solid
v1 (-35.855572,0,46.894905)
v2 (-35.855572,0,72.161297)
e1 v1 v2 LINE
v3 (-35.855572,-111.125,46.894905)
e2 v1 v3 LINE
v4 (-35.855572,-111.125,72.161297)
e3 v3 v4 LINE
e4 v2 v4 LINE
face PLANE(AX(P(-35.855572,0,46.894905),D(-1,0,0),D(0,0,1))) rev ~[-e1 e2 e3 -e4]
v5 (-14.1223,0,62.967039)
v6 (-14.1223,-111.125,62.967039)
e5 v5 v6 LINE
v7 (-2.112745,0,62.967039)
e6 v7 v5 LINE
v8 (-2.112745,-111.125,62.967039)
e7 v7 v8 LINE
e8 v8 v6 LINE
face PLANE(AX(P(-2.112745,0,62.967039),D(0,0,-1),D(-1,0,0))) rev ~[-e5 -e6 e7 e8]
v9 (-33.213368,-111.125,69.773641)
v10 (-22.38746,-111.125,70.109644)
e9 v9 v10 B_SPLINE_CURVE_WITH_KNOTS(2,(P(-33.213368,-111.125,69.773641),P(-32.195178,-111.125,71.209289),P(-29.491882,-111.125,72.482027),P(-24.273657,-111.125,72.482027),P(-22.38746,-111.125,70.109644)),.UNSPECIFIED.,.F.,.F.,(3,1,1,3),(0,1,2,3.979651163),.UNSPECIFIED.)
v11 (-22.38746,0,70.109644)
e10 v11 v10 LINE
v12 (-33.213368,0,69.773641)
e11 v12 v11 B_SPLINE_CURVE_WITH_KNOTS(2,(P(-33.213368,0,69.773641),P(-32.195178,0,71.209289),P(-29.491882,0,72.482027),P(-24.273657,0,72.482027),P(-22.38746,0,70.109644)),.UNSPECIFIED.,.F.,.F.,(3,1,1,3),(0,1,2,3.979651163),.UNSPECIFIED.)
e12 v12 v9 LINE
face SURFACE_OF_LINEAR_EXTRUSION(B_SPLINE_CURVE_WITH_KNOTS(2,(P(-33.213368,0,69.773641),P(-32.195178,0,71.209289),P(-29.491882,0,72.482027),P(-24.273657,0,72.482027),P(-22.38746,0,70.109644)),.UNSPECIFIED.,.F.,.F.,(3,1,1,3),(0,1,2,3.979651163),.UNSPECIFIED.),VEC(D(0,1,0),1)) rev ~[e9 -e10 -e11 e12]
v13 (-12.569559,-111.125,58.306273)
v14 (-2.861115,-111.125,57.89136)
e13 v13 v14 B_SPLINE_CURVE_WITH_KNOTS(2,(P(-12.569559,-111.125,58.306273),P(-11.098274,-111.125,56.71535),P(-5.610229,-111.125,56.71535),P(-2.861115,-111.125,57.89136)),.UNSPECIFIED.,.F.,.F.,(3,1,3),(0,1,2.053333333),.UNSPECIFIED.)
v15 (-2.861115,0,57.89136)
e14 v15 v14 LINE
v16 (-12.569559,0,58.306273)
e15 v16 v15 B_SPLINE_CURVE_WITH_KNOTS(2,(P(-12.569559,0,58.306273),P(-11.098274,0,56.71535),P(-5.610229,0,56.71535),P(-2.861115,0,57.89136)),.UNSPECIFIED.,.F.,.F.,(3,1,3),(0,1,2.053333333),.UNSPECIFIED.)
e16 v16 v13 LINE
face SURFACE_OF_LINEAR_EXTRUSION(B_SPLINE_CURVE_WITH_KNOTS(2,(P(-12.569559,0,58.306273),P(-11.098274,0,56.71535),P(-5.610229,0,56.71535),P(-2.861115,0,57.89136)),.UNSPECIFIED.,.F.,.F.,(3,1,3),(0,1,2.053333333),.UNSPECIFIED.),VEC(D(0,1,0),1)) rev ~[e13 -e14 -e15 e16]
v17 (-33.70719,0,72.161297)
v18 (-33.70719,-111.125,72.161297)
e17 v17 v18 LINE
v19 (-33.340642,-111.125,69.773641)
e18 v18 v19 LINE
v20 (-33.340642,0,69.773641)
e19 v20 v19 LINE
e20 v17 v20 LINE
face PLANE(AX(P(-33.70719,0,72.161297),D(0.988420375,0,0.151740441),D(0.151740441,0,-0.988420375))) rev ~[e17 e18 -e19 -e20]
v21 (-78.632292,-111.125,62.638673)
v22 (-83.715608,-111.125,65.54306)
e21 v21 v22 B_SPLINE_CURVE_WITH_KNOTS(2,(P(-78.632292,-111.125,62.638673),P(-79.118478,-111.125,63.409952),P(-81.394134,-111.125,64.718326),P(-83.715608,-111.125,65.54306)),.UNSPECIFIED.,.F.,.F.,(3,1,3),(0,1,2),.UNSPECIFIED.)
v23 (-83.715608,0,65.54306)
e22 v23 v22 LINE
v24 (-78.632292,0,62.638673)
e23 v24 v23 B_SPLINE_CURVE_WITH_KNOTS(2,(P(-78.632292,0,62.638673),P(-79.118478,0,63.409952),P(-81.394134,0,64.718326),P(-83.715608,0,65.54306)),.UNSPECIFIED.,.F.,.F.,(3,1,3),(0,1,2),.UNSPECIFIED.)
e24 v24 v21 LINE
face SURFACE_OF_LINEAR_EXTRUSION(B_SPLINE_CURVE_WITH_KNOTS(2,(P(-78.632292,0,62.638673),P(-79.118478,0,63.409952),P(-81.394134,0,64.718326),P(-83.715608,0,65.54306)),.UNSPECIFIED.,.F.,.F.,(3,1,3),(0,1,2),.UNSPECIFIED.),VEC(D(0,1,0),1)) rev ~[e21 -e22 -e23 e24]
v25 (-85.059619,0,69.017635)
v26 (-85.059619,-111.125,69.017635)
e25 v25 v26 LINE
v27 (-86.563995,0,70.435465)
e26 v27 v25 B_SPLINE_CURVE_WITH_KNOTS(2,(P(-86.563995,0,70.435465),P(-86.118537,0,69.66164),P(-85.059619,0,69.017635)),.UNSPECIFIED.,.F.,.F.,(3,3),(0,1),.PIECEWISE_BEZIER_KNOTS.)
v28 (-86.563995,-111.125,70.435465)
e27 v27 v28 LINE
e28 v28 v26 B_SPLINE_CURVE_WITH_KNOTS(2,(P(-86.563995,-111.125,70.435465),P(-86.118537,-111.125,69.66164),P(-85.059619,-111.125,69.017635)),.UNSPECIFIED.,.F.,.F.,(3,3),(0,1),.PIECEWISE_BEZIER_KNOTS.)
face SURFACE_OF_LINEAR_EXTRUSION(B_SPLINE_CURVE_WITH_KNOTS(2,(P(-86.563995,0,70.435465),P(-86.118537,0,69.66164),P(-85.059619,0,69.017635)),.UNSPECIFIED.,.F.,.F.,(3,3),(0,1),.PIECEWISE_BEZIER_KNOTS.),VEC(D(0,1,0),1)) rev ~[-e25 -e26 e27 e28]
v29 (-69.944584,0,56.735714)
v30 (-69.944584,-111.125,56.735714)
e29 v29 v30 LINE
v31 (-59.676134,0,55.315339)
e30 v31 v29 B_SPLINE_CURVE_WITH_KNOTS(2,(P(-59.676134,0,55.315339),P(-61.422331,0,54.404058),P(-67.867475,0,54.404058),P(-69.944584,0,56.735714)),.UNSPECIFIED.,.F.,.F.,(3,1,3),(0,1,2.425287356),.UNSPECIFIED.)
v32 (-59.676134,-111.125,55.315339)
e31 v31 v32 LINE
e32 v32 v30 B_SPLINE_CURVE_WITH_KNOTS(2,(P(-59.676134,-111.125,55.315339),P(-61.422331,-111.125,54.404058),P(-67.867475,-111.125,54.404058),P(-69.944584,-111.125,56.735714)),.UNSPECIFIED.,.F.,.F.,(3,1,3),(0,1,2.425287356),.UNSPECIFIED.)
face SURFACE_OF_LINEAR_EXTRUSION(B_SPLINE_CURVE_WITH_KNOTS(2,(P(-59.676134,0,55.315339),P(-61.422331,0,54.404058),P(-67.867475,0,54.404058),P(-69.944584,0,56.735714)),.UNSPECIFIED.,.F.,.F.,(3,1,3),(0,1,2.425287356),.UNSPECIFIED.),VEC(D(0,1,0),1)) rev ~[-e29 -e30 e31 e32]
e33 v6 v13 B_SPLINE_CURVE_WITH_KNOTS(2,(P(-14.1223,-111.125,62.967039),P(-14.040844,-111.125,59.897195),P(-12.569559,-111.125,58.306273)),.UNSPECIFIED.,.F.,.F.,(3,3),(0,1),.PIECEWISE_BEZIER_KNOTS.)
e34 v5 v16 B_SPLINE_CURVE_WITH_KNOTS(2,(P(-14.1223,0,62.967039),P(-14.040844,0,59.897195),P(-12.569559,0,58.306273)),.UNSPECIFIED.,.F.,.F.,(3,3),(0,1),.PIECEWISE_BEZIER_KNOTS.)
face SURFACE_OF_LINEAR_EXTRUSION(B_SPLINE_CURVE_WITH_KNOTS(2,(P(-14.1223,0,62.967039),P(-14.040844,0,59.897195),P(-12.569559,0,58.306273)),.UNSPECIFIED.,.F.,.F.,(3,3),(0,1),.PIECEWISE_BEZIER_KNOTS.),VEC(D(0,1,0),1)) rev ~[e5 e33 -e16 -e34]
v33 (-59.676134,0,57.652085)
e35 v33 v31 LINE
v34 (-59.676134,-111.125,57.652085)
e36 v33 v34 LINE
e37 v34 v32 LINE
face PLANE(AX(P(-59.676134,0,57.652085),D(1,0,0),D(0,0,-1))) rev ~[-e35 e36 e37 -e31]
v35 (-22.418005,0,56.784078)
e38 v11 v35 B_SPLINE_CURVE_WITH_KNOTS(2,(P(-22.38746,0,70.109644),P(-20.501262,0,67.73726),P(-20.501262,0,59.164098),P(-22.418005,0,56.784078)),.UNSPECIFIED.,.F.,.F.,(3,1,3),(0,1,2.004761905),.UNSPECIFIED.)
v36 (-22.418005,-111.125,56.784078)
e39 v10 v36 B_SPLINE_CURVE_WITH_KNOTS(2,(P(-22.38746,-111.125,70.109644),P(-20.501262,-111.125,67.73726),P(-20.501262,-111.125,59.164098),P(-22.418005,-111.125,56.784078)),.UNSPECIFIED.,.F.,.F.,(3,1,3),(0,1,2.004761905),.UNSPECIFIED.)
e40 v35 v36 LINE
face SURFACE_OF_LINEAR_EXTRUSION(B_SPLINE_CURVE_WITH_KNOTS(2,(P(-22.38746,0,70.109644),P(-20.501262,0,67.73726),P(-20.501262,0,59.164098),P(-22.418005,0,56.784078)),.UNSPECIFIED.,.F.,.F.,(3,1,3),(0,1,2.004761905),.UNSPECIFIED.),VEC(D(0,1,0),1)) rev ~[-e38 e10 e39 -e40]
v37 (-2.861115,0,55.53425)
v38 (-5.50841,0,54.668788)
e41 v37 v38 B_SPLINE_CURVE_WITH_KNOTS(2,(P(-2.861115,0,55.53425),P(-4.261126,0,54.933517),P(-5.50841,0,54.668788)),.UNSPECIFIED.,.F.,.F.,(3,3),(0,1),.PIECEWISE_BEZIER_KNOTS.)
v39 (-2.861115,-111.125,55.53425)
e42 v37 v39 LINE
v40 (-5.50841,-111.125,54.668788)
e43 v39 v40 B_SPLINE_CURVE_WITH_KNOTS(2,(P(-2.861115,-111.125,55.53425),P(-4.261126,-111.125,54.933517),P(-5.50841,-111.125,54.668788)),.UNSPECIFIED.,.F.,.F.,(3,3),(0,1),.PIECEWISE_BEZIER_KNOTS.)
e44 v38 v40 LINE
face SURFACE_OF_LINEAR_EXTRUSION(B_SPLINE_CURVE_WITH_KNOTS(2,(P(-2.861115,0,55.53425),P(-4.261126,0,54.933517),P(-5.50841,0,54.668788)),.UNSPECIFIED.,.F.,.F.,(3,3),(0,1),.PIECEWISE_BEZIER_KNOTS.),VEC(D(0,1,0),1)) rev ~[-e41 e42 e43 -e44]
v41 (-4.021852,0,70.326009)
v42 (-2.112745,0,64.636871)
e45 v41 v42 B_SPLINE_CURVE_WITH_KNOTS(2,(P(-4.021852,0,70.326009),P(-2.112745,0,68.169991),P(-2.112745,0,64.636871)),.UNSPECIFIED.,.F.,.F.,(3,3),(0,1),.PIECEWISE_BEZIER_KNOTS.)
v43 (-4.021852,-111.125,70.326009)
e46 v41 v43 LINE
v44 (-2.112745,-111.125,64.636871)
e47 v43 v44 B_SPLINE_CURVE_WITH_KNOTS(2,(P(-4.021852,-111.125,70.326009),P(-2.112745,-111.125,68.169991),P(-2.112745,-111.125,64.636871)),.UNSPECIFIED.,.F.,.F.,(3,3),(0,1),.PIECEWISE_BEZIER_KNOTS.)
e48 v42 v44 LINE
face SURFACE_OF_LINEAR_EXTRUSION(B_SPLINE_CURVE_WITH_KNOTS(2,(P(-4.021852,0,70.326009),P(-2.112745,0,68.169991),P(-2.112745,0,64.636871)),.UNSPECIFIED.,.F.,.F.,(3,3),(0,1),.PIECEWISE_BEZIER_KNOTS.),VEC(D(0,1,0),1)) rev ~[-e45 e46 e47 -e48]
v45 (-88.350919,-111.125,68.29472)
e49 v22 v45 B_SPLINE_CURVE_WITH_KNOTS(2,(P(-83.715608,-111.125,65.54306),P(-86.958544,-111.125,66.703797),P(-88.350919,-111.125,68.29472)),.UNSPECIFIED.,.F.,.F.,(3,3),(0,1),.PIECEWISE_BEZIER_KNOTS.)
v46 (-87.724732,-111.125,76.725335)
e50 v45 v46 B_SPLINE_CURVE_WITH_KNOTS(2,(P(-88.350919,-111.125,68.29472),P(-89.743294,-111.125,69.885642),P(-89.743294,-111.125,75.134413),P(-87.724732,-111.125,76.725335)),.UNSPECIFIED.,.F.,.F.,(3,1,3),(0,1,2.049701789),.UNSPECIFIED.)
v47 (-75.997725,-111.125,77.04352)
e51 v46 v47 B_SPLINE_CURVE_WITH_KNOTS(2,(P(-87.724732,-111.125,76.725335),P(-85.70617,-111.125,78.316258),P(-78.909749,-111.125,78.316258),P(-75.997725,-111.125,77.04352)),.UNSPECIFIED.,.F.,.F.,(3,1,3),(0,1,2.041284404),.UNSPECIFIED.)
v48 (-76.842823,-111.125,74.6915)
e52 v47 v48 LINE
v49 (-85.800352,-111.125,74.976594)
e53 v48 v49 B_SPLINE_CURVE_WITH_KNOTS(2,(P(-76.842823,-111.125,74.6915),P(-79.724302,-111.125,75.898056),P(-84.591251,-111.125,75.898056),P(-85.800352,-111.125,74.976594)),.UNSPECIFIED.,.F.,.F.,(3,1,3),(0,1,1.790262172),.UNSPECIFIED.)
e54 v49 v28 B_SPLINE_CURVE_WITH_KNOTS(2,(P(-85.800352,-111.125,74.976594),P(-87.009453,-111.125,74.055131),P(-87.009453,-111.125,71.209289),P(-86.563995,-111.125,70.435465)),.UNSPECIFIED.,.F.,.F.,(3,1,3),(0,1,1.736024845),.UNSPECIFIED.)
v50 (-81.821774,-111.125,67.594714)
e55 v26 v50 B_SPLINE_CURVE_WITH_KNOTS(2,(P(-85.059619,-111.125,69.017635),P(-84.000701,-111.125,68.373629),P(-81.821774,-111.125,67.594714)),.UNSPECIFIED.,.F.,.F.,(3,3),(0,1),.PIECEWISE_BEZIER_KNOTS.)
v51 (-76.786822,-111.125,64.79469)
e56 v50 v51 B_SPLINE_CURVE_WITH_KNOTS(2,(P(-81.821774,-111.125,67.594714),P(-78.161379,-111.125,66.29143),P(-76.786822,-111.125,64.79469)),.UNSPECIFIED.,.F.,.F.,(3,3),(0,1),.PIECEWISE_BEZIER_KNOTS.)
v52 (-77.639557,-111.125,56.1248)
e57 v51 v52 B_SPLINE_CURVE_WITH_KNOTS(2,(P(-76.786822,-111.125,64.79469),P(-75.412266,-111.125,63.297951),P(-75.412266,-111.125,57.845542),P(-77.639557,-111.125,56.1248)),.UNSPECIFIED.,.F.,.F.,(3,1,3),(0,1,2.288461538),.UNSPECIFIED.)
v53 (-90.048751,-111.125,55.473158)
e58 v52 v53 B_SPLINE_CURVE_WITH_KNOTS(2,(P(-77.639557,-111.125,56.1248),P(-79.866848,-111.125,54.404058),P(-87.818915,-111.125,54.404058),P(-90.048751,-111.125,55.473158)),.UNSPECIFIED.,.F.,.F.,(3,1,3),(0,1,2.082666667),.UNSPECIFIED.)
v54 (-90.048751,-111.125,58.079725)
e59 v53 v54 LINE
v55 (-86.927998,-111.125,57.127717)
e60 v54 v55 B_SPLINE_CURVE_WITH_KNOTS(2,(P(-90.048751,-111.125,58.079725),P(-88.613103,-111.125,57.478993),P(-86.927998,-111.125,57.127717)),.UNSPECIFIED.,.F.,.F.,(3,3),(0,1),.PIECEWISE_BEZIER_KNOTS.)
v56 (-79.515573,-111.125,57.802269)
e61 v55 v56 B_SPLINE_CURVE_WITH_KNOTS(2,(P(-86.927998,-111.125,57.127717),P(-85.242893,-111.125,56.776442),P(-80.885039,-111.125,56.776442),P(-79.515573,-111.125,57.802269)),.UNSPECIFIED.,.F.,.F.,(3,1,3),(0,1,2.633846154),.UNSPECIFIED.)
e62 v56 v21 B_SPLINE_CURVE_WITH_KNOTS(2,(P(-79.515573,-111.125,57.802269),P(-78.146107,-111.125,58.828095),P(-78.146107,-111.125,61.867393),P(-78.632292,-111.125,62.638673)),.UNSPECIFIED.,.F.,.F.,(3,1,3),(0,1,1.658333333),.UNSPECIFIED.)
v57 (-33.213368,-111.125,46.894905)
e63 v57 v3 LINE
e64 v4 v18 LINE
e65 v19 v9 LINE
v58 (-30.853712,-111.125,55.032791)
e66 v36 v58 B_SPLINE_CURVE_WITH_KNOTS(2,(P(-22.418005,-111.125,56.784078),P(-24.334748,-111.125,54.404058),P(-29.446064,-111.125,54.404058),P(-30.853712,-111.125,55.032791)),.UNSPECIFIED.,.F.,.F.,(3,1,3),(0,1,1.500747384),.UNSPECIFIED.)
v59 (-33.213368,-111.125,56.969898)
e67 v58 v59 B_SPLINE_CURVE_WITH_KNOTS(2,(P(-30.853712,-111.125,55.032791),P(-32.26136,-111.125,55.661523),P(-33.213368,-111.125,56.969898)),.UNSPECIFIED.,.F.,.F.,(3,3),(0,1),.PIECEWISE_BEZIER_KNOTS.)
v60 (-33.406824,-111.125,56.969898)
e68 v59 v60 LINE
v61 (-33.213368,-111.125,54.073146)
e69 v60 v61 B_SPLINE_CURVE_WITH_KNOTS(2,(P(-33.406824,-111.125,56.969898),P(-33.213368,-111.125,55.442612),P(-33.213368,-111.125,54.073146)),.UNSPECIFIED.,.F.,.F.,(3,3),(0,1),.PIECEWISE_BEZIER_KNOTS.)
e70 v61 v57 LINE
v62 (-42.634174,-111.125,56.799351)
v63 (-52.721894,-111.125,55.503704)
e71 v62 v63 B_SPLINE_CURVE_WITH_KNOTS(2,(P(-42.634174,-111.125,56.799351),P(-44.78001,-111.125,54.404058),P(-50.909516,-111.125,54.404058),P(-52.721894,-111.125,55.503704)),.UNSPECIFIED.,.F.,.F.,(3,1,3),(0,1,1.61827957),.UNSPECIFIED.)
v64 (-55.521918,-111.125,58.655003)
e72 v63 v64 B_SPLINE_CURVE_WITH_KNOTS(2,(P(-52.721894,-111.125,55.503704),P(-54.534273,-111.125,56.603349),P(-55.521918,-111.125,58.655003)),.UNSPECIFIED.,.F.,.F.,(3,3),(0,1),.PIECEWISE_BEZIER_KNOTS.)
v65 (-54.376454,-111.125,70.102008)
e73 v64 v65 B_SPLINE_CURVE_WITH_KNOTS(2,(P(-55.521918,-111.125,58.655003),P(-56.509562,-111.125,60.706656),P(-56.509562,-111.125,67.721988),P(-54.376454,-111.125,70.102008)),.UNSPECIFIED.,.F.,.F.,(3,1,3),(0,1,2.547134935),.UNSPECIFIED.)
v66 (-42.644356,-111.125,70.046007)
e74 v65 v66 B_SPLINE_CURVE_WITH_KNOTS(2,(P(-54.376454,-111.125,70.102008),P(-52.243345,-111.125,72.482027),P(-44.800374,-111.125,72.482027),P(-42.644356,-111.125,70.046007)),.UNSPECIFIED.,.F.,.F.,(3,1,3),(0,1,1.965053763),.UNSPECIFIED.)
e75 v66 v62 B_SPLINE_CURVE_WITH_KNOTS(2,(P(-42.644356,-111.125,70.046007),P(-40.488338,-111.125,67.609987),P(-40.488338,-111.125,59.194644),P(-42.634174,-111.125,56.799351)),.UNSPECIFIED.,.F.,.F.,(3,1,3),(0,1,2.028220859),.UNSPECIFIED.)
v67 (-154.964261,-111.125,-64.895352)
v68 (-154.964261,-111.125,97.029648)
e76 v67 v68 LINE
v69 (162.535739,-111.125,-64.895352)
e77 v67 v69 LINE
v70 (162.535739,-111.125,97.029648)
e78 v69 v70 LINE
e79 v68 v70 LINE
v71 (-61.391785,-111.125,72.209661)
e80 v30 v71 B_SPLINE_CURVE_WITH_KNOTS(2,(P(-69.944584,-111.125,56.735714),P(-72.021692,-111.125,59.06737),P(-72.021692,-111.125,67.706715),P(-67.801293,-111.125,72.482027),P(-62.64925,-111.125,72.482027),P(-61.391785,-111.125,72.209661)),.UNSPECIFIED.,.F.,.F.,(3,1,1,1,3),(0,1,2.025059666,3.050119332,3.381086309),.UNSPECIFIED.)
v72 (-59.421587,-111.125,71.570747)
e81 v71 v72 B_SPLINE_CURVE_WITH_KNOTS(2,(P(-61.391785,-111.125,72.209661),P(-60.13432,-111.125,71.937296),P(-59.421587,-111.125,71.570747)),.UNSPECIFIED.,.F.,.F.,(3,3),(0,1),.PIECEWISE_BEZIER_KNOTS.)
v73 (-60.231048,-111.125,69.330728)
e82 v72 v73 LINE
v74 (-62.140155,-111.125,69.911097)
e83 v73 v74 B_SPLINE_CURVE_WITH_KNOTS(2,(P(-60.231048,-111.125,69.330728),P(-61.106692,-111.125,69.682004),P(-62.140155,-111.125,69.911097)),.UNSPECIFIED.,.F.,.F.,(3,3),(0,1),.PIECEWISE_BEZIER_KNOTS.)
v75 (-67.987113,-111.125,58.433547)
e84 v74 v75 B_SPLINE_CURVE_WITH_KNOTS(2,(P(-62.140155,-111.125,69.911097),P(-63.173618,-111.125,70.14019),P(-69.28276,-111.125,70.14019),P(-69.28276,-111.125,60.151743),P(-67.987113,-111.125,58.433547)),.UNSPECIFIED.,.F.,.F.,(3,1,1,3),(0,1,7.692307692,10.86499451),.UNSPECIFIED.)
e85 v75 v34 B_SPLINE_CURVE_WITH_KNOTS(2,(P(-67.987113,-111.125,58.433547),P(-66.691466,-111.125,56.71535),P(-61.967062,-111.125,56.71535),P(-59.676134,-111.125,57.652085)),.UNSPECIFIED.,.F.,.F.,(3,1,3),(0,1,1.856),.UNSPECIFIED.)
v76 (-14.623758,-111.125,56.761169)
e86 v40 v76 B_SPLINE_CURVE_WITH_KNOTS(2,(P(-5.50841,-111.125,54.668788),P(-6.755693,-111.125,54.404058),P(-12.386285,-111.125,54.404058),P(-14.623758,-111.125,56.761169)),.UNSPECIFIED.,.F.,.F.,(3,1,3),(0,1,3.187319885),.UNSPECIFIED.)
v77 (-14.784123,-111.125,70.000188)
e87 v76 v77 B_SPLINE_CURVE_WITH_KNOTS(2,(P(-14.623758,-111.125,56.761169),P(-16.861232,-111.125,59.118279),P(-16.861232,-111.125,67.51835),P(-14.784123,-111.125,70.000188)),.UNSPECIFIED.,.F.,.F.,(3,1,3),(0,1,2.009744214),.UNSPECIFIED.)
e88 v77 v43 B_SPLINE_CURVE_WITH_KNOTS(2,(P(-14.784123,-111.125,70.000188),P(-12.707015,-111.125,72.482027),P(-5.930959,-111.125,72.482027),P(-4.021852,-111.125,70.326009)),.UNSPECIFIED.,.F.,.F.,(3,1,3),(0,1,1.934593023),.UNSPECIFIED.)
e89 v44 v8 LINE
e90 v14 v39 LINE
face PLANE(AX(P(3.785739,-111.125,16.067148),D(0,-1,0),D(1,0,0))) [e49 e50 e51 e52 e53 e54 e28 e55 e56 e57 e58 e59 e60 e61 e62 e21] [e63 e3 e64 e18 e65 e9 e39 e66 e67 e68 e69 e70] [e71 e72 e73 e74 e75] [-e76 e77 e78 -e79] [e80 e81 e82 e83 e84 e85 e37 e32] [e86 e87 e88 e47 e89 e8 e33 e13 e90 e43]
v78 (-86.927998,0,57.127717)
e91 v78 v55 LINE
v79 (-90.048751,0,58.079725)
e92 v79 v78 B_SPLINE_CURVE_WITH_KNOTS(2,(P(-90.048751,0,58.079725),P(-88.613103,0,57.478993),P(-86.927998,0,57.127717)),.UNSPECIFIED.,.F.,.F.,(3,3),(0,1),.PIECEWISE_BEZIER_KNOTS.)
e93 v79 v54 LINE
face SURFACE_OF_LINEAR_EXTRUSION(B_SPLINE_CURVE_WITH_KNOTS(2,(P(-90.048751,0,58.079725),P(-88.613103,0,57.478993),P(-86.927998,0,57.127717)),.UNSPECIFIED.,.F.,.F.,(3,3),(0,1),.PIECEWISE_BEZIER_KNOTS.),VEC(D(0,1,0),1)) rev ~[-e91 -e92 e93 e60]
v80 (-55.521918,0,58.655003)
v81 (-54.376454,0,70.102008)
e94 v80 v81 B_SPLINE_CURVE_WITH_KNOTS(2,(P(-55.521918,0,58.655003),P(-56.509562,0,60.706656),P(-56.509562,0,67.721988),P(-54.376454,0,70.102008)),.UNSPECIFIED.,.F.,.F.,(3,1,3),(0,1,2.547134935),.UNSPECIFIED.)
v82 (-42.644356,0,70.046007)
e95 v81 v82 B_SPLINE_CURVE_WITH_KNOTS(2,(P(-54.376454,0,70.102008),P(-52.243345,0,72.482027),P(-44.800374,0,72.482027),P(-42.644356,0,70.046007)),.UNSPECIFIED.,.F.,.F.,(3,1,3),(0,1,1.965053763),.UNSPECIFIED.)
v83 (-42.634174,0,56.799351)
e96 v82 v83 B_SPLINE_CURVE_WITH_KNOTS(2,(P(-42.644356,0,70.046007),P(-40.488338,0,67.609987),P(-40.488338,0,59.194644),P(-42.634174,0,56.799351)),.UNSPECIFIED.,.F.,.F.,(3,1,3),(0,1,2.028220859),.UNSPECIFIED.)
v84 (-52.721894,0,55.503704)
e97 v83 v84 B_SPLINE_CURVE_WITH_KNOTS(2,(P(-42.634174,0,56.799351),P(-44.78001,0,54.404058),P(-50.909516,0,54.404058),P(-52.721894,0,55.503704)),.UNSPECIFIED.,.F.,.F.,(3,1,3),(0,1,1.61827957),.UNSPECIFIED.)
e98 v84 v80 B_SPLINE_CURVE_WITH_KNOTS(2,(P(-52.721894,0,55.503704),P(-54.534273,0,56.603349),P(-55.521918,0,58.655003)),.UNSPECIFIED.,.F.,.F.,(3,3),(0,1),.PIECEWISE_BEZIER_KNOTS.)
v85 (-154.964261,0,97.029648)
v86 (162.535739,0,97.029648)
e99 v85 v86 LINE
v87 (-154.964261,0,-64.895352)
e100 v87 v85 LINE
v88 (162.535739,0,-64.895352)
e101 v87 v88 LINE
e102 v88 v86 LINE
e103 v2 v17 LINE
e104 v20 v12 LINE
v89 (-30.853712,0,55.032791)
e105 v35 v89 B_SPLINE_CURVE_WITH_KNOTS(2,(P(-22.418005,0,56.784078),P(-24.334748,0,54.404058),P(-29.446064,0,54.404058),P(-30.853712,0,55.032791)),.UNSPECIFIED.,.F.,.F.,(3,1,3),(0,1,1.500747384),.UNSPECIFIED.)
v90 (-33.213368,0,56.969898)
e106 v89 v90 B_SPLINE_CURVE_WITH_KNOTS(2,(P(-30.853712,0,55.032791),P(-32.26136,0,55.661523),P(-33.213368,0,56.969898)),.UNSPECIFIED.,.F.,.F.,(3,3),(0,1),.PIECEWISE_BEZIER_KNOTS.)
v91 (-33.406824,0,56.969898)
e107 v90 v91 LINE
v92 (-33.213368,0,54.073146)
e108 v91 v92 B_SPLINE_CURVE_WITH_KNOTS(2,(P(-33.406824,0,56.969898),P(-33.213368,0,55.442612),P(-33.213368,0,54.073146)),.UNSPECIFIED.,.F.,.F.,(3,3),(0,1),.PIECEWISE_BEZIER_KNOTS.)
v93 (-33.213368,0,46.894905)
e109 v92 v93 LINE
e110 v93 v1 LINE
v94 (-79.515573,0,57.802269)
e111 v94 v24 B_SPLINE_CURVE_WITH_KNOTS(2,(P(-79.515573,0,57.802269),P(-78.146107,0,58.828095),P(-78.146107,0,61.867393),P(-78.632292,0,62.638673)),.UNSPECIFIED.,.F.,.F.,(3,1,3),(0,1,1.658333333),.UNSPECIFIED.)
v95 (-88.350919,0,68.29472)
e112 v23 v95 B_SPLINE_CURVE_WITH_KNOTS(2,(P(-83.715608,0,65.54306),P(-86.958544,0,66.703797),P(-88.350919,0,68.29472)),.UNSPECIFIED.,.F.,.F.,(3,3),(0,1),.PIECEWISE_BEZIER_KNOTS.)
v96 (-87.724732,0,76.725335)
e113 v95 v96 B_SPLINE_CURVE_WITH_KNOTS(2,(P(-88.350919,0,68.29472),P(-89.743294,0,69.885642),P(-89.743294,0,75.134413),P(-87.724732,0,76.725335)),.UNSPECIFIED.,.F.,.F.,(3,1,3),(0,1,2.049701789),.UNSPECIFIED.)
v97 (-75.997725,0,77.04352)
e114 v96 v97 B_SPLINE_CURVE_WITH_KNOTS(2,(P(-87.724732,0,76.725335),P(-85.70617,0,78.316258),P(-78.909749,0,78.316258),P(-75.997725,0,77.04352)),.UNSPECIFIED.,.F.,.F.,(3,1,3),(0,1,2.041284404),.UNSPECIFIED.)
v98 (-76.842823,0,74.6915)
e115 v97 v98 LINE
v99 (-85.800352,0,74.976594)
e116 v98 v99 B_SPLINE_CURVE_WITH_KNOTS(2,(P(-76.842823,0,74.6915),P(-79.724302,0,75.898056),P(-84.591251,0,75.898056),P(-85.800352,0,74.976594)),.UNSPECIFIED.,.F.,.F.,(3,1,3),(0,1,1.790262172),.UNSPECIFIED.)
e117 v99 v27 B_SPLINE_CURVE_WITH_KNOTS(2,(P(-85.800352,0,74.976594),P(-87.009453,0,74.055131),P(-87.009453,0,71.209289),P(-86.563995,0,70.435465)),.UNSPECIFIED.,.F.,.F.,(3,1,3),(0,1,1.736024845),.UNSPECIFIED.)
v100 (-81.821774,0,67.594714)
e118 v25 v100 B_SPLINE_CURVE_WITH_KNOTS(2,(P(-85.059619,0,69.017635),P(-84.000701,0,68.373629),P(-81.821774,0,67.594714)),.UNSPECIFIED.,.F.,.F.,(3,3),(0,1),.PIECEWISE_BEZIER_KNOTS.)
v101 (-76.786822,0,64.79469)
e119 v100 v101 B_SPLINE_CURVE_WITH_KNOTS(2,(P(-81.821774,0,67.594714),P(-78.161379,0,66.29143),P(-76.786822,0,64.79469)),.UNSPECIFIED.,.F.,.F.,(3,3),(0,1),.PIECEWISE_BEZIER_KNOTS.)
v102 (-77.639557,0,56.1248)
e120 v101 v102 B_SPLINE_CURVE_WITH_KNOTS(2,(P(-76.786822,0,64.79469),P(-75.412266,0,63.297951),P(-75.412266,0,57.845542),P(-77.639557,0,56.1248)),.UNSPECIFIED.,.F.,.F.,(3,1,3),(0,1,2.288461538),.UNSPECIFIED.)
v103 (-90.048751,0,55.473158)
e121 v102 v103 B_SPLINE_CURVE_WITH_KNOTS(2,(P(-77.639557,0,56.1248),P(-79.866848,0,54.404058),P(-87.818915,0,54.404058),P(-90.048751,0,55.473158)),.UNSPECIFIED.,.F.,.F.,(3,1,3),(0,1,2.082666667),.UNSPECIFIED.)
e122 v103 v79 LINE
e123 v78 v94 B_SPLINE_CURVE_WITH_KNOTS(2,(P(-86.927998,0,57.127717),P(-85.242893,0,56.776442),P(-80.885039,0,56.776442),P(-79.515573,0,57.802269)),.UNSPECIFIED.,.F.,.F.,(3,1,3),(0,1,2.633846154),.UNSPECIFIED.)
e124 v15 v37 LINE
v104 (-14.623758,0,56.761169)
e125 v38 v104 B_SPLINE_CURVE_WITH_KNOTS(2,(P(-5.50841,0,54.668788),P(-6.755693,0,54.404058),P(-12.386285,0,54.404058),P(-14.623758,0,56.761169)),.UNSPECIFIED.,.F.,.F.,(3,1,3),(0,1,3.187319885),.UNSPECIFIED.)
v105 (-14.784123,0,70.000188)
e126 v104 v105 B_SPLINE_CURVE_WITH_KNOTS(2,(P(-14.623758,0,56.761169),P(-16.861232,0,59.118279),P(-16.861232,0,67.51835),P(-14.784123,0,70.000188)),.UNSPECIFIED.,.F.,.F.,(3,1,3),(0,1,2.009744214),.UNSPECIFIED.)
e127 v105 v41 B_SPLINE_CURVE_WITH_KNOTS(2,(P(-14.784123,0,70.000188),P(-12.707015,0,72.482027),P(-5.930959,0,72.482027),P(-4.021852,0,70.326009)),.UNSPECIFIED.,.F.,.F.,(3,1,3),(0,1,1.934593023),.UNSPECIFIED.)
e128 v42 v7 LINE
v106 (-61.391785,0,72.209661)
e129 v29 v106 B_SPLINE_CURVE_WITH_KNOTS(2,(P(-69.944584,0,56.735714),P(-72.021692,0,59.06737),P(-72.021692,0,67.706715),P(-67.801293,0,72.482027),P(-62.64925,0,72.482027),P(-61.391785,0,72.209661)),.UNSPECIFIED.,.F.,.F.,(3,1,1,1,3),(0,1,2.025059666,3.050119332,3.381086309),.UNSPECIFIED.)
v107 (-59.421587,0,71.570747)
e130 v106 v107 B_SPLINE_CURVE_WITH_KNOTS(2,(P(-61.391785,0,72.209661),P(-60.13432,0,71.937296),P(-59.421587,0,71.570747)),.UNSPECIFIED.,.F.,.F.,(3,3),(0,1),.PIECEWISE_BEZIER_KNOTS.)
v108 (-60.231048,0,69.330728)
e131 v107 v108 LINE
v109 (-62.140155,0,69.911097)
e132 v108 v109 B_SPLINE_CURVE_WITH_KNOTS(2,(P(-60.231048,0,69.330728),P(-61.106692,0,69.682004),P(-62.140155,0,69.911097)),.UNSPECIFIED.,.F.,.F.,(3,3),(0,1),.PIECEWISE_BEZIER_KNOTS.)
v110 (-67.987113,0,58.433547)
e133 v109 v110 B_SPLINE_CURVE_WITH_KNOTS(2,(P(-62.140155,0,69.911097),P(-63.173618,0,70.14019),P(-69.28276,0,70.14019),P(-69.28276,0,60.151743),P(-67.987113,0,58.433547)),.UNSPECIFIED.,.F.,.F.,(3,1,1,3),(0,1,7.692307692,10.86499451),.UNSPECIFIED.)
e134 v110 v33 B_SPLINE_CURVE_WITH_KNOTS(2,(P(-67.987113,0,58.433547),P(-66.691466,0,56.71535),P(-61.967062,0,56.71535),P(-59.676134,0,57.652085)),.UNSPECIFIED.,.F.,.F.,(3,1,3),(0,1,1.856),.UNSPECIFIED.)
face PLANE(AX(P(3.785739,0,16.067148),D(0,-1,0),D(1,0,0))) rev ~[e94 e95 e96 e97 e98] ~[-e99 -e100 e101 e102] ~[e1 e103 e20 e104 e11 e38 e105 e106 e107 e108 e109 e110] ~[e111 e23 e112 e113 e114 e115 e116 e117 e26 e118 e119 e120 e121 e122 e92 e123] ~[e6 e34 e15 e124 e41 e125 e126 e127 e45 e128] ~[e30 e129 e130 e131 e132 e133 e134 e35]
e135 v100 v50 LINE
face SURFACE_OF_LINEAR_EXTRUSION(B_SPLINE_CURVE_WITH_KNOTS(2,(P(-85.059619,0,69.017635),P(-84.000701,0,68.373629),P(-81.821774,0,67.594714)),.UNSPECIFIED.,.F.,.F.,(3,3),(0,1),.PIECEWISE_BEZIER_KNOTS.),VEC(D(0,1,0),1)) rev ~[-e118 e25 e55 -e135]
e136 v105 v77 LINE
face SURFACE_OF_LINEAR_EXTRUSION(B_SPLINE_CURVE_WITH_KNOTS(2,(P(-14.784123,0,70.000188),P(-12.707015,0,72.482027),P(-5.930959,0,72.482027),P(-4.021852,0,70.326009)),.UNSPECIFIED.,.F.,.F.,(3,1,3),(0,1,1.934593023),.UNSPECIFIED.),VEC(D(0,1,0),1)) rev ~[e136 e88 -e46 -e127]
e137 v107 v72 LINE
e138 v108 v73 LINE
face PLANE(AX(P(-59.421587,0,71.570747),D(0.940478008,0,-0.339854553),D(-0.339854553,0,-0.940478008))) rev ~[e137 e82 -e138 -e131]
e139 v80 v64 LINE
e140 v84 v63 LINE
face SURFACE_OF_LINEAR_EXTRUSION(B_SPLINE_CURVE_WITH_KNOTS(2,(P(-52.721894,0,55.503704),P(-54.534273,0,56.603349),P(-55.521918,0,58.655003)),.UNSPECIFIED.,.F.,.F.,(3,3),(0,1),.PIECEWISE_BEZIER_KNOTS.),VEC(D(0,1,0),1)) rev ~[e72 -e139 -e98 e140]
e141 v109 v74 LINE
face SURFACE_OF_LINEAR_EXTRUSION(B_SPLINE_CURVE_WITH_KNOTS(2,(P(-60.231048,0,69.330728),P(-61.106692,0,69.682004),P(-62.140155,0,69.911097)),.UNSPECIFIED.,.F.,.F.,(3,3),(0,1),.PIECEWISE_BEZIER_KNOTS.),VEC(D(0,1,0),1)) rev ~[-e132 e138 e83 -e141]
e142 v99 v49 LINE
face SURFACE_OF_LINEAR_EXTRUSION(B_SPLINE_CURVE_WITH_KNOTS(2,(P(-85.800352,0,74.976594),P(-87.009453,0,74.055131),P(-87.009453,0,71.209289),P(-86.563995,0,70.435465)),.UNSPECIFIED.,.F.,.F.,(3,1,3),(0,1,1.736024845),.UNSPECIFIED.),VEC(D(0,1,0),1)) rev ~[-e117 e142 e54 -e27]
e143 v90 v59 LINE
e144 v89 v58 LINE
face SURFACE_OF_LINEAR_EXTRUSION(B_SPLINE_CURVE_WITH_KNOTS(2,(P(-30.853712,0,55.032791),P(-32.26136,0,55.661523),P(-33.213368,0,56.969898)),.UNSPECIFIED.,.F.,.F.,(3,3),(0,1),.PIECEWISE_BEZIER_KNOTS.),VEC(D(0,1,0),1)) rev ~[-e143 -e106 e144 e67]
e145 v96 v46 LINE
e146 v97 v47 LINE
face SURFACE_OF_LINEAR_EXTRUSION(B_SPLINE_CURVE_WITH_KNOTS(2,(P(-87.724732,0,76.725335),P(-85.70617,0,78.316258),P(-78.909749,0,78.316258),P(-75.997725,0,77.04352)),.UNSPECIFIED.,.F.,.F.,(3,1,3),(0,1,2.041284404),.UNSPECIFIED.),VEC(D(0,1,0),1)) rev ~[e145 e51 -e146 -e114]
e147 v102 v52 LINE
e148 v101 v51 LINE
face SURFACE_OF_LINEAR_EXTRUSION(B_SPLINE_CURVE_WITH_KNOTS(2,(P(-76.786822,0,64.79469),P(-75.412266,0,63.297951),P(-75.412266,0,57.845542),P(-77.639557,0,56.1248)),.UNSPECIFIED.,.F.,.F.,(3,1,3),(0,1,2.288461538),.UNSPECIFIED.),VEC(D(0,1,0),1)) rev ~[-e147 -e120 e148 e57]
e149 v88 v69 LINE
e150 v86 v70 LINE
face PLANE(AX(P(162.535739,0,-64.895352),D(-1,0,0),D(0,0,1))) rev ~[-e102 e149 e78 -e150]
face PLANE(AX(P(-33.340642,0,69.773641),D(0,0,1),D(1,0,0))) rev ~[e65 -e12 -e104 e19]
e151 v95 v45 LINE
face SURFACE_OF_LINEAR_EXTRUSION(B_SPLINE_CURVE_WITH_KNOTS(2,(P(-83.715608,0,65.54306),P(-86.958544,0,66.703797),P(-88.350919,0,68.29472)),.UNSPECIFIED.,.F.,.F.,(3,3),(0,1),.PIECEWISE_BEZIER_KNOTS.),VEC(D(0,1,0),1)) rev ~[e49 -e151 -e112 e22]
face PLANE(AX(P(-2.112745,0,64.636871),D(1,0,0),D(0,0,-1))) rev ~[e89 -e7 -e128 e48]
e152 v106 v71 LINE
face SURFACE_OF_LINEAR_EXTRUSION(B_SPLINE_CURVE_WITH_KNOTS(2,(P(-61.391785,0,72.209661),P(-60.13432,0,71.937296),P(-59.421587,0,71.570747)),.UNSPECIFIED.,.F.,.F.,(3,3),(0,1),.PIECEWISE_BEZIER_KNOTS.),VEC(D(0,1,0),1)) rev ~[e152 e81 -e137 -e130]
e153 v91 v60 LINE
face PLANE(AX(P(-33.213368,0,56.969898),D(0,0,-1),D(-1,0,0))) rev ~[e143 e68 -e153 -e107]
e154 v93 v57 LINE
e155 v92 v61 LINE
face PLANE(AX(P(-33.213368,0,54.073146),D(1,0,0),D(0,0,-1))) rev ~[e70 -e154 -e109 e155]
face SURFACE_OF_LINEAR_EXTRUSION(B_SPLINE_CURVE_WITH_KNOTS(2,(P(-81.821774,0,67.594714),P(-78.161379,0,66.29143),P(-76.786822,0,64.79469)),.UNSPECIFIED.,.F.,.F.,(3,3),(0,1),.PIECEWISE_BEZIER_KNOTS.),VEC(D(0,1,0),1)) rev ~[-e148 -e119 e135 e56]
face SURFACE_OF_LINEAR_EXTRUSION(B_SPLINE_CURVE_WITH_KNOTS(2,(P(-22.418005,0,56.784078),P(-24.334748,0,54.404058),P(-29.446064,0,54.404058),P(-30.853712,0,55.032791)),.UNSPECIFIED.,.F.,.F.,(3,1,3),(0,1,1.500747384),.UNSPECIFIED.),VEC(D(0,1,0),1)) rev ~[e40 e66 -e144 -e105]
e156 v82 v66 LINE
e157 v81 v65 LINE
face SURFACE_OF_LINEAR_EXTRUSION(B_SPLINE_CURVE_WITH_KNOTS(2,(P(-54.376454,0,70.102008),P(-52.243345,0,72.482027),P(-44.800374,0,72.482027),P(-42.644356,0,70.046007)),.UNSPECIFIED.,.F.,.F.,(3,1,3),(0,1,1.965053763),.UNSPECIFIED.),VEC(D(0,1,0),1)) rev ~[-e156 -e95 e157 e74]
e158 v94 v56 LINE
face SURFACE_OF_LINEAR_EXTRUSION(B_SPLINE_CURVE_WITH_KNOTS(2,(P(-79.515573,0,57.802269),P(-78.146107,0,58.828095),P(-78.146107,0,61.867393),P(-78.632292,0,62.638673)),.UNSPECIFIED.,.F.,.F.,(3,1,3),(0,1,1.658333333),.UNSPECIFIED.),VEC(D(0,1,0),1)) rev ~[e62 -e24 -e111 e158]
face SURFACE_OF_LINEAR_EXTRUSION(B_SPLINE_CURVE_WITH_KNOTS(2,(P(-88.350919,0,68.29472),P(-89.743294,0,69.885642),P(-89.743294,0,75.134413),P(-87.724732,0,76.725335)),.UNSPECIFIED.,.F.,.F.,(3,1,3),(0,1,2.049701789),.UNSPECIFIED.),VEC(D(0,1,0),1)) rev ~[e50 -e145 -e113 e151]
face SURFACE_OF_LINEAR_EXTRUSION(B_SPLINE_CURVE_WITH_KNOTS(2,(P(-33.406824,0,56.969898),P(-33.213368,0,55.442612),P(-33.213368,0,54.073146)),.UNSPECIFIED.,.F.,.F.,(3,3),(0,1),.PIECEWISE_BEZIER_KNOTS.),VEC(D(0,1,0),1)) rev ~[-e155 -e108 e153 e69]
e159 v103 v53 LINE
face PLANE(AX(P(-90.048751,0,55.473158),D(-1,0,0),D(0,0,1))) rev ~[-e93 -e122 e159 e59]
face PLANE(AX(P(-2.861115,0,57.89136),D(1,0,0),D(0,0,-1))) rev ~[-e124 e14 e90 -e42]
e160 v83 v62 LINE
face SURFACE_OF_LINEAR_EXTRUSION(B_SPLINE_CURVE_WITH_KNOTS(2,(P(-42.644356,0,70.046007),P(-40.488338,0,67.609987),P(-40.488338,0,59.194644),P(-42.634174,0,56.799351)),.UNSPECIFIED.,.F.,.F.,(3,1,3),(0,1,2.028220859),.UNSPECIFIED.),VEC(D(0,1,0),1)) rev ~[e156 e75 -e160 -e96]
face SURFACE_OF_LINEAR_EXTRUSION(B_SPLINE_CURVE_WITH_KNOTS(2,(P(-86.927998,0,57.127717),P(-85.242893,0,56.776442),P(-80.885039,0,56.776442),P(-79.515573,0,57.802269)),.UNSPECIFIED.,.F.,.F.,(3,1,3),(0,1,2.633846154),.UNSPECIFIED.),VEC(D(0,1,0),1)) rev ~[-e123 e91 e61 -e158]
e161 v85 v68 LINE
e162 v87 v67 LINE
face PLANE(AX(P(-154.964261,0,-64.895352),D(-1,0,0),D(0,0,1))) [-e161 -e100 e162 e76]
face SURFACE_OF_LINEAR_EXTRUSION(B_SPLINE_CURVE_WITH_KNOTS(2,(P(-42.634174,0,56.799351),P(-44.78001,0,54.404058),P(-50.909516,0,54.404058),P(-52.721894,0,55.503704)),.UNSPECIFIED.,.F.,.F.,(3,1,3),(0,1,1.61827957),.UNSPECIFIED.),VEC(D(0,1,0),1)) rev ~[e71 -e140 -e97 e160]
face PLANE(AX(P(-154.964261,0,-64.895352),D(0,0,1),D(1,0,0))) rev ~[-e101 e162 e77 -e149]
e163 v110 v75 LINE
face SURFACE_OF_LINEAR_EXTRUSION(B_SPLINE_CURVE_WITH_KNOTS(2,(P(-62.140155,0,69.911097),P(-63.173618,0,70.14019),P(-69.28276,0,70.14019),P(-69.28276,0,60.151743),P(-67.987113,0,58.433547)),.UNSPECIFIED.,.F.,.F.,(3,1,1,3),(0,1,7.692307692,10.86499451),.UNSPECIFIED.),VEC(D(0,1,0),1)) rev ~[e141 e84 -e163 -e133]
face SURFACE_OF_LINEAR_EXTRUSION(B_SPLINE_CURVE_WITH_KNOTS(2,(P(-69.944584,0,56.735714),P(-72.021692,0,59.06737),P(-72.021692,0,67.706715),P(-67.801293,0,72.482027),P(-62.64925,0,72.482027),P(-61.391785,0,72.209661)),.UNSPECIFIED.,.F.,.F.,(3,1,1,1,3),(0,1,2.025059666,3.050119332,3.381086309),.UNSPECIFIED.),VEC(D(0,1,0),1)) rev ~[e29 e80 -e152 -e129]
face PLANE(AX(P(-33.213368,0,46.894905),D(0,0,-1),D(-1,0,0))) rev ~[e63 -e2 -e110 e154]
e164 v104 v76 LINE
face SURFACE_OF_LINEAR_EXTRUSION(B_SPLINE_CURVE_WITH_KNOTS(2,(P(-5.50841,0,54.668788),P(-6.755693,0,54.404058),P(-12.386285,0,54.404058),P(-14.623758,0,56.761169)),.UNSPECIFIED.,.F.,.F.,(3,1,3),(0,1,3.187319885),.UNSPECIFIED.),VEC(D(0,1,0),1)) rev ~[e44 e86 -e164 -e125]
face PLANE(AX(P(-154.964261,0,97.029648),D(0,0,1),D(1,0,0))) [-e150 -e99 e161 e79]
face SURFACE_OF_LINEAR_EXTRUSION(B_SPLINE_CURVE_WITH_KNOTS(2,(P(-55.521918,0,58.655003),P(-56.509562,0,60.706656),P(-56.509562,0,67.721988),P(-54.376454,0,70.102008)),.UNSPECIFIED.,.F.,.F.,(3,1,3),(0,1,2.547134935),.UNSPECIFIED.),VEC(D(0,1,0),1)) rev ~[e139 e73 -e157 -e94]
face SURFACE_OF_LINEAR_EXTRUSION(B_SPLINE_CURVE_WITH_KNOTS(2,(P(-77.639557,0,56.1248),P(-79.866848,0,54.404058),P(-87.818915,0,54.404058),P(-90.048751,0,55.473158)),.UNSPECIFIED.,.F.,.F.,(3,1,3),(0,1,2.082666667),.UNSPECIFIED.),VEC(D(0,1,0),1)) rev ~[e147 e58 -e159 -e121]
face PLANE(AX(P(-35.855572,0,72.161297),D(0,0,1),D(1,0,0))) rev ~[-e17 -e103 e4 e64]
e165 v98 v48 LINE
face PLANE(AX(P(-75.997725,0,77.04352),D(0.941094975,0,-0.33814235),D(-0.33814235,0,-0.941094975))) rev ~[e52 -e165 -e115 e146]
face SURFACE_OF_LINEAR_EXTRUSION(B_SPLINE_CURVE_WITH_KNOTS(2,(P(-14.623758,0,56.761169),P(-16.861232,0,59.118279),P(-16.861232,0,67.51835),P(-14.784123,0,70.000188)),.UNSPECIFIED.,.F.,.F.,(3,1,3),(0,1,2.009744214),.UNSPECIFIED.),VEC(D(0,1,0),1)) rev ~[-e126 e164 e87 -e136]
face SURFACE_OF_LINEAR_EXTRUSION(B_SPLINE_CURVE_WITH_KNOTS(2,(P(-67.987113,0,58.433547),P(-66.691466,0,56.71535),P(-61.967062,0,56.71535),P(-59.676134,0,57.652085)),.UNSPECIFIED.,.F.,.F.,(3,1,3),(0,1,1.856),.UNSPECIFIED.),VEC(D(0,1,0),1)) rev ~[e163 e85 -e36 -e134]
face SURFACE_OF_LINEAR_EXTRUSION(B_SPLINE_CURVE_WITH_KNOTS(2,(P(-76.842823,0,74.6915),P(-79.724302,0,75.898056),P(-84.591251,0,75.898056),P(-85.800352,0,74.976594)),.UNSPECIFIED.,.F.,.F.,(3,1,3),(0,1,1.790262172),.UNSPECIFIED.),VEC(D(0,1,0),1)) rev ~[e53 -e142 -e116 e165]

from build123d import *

# Parameters (mm, degrees)
F0_W     = 317.5
F0_H     = 161.925
F1_DEPTH = 111.125


with BuildPart() as f1:
    # F0 (on Front) → F1 (new body)
    with BuildSketch(Plane.XZ):
        with Locations((3.7857389202, 16.0671479534)):
            Rectangle(F0_W, F0_H)
        with BuildLine():
            add(Edge.make_bspline(
                [(-76.786822499, 64.7946904907), (-75.4122655757, 63.2979507297), (-75.4122655757, 60.9153853959)],
                knots=[0, 0, 0, 1, 1, 1], degree=2))
            add(Edge.make_bspline(
                [(-75.4122655757, 60.9153853959), (-75.4122655757, 57.8455416005), (-77.6395568867, 56.1247999705)],
                knots=[0, 0, 0, 1, 1, 1], degree=2))
            add(Edge.make_bspline(
                [(-77.6395568867, 56.1247999705), (-79.8668481976, 54.4040583405), (-83.6850618736, 54.4040583405)],
                knots=[0, 0, 0, 1, 1, 1], degree=2))
            add(Edge.make_bspline(
                [(-83.6850618736, 54.4040583405), (-87.8189145467, 54.4040583405), (-90.0487513335, 55.4731581698)],
                knots=[0, 0, 0, 1, 1, 1], degree=2))
            Line((-90.0487513335, 55.4731581698), (-90.0487513335, 58.0797253726))
            add(Edge.make_bspline(
                [(-90.0487513335, 58.0797253726), (-88.6131029913, 57.4789930876), (-86.9279980224, 57.1277174294)],
                knots=[0, 0, 0, 1, 1, 1], degree=2))
            add(Edge.make_bspline(
                [(-86.9279980224, 57.1277174294), (-85.2428930534, 56.7764417712), (-83.5883337938, 56.7764417712)],
                knots=[0, 0, 0, 1, 1, 1], degree=2))
            add(Edge.make_bspline(
                [(-83.5883337938, 56.7764417712), (-80.8850385112, 56.7764417712), (-79.5155725395, 57.8022685121)],
                knots=[0, 0, 0, 1, 1, 1], degree=2))
            add(Edge.make_bspline(
                [(-79.5155725395, 57.8022685121), (-78.1461065677, 58.8280952531), (-78.1461065677, 60.6608378175)],
                knots=[0, 0, 0, 1, 1, 1], degree=2))
            add(Edge.make_bspline(
                [(-78.1461065677, 60.6608378175), (-78.1461065677, 61.8673933391), (-78.6322924424, 62.6386725017)],
                knots=[0, 0, 0, 1, 1, 1], degree=2))
            add(Edge.make_bspline(
                [(-78.6322924424, 62.6386725017), (-79.1184783172, 63.4099516642), (-80.2563059926, 64.0641389407)],
                knots=[0, 0, 0, 1, 1, 1], degree=2))
            add(Edge.make_bspline(
                [(-80.2563059926, 64.0641389407), (-81.394133668, 64.7183262172), (-83.715607583, 65.5430603712)],
                knots=[0, 0, 0, 1, 1, 1], degree=2))
            add(Edge.make_bspline(
                [(-83.715607583, 65.5430603712), (-86.9585437318, 66.7037973287), (-88.3509189856, 68.2947196936)],
                knots=[0, 0, 0, 1, 1, 1], degree=2))
            add(Edge.make_bspline(
                [(-88.3509189856, 68.2947196936), (-89.7432942394, 69.8856420586), (-89.7432942394, 72.4463906973)],
                knots=[0, 0, 0, 1, 1, 1], degree=2))
            add(Edge.make_bspline(
                [(-89.7432942394, 72.4463906973), (-89.7432942394, 75.1344131251), (-87.7247319427, 76.7253354901)],
                knots=[0, 0, 0, 1, 1, 1], degree=2))
            add(Edge.make_bspline(
                [(-87.7247319427, 76.7253354901), (-85.7061696461, 78.3162578551), (-82.3766873206, 78.3162578551)],
                knots=[0, 0, 0, 1, 1, 1], degree=2))
            add(Edge.make_bspline(
                [(-82.3766873206, 78.3162578551), (-78.9097493029, 78.3162578551), (-75.997725006, 77.0435199631)],
                knots=[0, 0, 0, 1, 1, 1], degree=2))
            Line((-75.997725006, 77.0435199631), (-76.8428229663, 74.6915003387))
            add(Edge.make_bspline(
                [(-76.8428229663, 74.6915003387), (-79.7243015537, 75.8980558603), (-82.442869691, 75.8980558603)],
                knots=[0, 0, 0, 1, 1, 1], degree=2))
            add(Edge.make_bspline(
                [(-82.442869691, 75.8980558603), (-84.5912512527, 75.8980558603), (-85.8003522501, 74.9765936265)],
                knots=[0, 0, 0, 1, 1, 1], degree=2))
            add(Edge.make_bspline(
                [(-85.8003522501, 74.9765936265), (-87.0094532474, 74.0551313927), (-87.0094532474, 72.4158449879)],
                knots=[0, 0, 0, 1, 1, 1], degree=2))
            add(Edge.make_bspline(
                [(-87.0094532474, 72.4158449879), (-87.0094532474, 71.2092894663), (-86.5639949852, 70.4354648279)],
                knots=[0, 0, 0, 1, 1, 1], degree=2))
            add(Edge.make_bspline(
                [(-86.5639949852, 70.4354648279), (-86.1185367231, 69.6616401896), (-85.0596187969, 69.0176348163)],
                knots=[0, 0, 0, 1, 1, 1], degree=2))
            add(Edge.make_bspline(
                [(-85.0596187969, 69.0176348163), (-84.0007008708, 68.3736294429), (-81.8217735997, 67.594713853)],
                knots=[0, 0, 0, 1, 1, 1], degree=2))
            add(Edge.make_bspline(
                [(-81.8217735997, 67.594713853), (-78.1613794224, 66.2914302517), (-76.786822499, 64.7946904907)],
                knots=[0, 0, 0, 1, 1, 1], degree=2))
        make_face(mode=Mode.SUBTRACT)
        with BuildLine():
            add(Edge.make_bspline(
                [(-59.6761342792, 55.3153386712), (-61.422330667, 54.4040583405), (-64.0798073855, 54.4040583405)],
                knots=[0, 0, 0, 1, 1, 1], degree=2))
            add(Edge.make_bspline(
                [(-64.0798073855, 54.4040583405), (-67.867475352, 54.4040583405), (-69.9445835918, 56.7357141587)],
                knots=[0, 0, 0, 1, 1, 1], degree=2))
            add(Edge.make_bspline(
                [(-69.9445835918, 56.7357141587), (-72.0216918315, 59.0673699768), (-72.0216918315, 63.3335873907)],
                knots=[0, 0, 0, 1, 1, 1], degree=2))
            add(Edge.make_bspline(
                [(-72.0216918315, 63.3335873907), (-72.0216918315, 67.7067147875), (-69.9114924066, 70.0943710729)],
                knots=[0, 0, 0, 1, 1, 1], degree=2))
            add(Edge.make_bspline(
                [(-69.9114924066, 70.0943710729), (-67.8012929817, 72.4820273583), (-63.9067150322, 72.4820273583)],
                knots=[0, 0, 0, 1, 1, 1], degree=2))
            add(Edge.make_bspline(
                [(-63.9067150322, 72.4820273583), (-62.6492499949, 72.4820273583), (-61.3917849576, 72.2096614494)],
                knots=[0, 0, 0, 1, 1, 1], degree=2))
            add(Edge.make_bspline(
                [(-61.3917849576, 72.2096614494), (-60.1343199204, 71.9372955405), (-59.4215867008, 71.5707470276)],
                knots=[0, 0, 0, 1, 1, 1], degree=2))
            Line((-59.4215867008, 71.5707470276), (-60.2310480001, 69.3307283377))
            add(Edge.make_bspline(
                [(-60.2310480001, 69.3307283377), (-61.1066916698, 69.6820039959), (-62.1401548381, 69.9110968164)],
                knots=[0, 0, 0, 1, 1, 1], degree=2))
            add(Edge.make_bspline(
                [(-62.1401548381, 69.9110968164), (-63.1736180064, 70.140189637), (-63.967806451, 70.140189637)],
                knots=[0, 0, 0, 1, 1, 1], degree=2))
            add(Edge.make_bspline(
                [(-63.967806451, 70.140189637), (-69.2827598879, 70.140189637), (-69.2827598879, 63.3641331001)],
                knots=[0, 0, 0, 1, 1, 1], degree=2))
            add(Edge.make_bspline(
                [(-69.2827598879, 63.3641331001), (-69.2827598879, 60.1517426607), (-67.9871127139, 58.4335465066)],
                knots=[0, 0, 0, 1, 1, 1], degree=2))
            add(Edge.make_bspline(
                [(-67.9871127139, 58.4335465066), (-66.6914655398, 56.7153503524), (-64.1459897559, 56.7153503524)],
                knots=[0, 0, 0, 1, 1, 1], degree=2))
            add(Edge.make_bspline(
                [(-64.1459897559, 56.7153503524), (-61.9670624848, 56.7153503524), (-59.6761342792, 57.6520854409)],
                knots=[0, 0, 0, 1, 1, 1], degree=2))
            Line((-59.6761342792, 57.6520854409), (-59.6761342792, 55.3153386712))
        make_face(mode=Mode.SUBTRACT)
        with BuildLine():
            add(Edge.make_bspline(
                [(-42.6443558087, 70.046007033), (-40.4883378197, 67.6099867077), (-40.4883378197, 63.4608611799)],
                knots=[0, 0, 0, 1, 1, 1], degree=2))
            add(Edge.make_bspline(
                [(-40.4883378197, 63.4608611799), (-40.4883378197, 59.194643766), (-42.6341739056, 56.7993510533)],
                knots=[0, 0, 0, 1, 1, 1], degree=2))
            add(Edge.make_bspline(
                [(-42.6341739056, 56.7993510533), (-44.7800099915, 54.4040583405), (-48.567677958, 54.4040583405)],
                knots=[0, 0, 0, 1, 1, 1], degree=2))
            add(Edge.make_bspline(
                [(-48.567677958, 54.4040583405), (-50.9095156793, 54.4040583405), (-52.7218944375, 55.5037038792)],
                knots=[0, 0, 0, 1, 1, 1], degree=2))
            add(Edge.make_bspline(
                [(-52.7218944375, 55.5037038792), (-54.5342731956, 56.6033494179), (-55.5219177998, 58.6550028998)],
                knots=[0, 0, 0, 1, 1, 1], degree=2))
            add(Edge.make_bspline(
                [(-55.5219177998, 58.6550028998), (-56.509562404, 60.7066563816), (-56.509562404, 63.4608611799)],
                knots=[0, 0, 0, 1, 1, 1], degree=2))
            add(Edge.make_bspline(
                [(-56.509562404, 63.4608611799), (-56.509562404, 67.7219876422), (-54.376453697, 70.1020075002)],
                knots=[0, 0, 0, 1, 1, 1], degree=2))
            add(Edge.make_bspline(
                [(-54.376453697, 70.1020075002), (-52.2433449901, 72.4820273583), (-48.4556770235, 72.4820273583)],
                knots=[0, 0, 0, 1, 1, 1], degree=2))
            add(Edge.make_bspline(
                [(-48.4556770235, 72.4820273583), (-44.8003737978, 72.4820273583), (-42.6443558087, 70.046007033)],
                knots=[0, 0, 0, 1, 1, 1], degree=2))
        make_face(mode=Mode.SUBTRACT)
        with BuildLine():
            add(Edge.make_bspline(
                [(-22.4180052294, 56.7840781985), (-24.3347484947, 54.4040583405), (-27.7405950936, 54.4040583405)],
                knots=[0, 0, 0, 1, 1, 1], degree=2))
            add(Edge.make_bspline(
                [(-27.7405950936, 54.4040583405), (-29.4460638689, 54.4040583405), (-30.8537119774, 55.0327908592)],
                knots=[0, 0, 0, 1, 1, 1], degree=2))
            add(Edge.make_bspline(
                [(-30.8537119774, 55.0327908592), (-32.261360086, 55.6615233778), (-33.2133680292, 56.9698979308)],
                knots=[0, 0, 0, 1, 1, 1], degree=2))
            Line((-33.2133680292, 56.9698979308), (-33.4068241887, 56.9698979308))
            add(Edge.make_bspline(
                [(-33.4068241887, 56.9698979308), (-33.2133680292, 55.4426124604), (-33.2133680292, 54.0731464886)],
                knots=[0, 0, 0, 1, 1, 1], degree=2))
            Line((-33.2133680292, 54.0731464886), (-33.2133680292, 46.8949047778))
            Line((-33.2133680292, 46.8949047778), (-35.8555718929, 46.8949047778))
            Line((-35.8555718929, 46.8949047778), (-35.8555718929, 72.1612974095))
            Line((-35.8555718929, 72.1612974095), (-33.7071903312, 72.1612974095))
            Line((-33.7071903312, 72.1612974095), (-33.3406418184, 69.7736411241))
            Line((-33.3406418184, 69.7736411241), (-33.2133680292, 69.7736411241))
            add(Edge.make_bspline(
                [(-33.2133680292, 69.7736411241), (-32.1951777156, 71.2092894663), (-30.8435300743, 71.8456584123)],
                knots=[0, 0, 0, 1, 1, 1], degree=2))
            add(Edge.make_bspline(
                [(-30.8435300743, 71.8456584123), (-29.491882433, 72.4820273583), (-27.7405950936, 72.4820273583)],
                knots=[0, 0, 0, 1, 1, 1], degree=2))
            add(Edge.make_bspline(
                [(-27.7405950936, 72.4820273583), (-24.2736570759, 72.4820273583), (-22.38745952, 70.1096439276)],
                knots=[0, 0, 0, 1, 1, 1], degree=2))
            add(Edge.make_bspline(
                [(-22.38745952, 70.1096439276), (-20.501261964, 67.7372604969), (-20.501261964, 63.4608611799)],
                knots=[0, 0, 0, 1, 1, 1], degree=2))
            add(Edge.make_bspline(
                [(-20.501261964, 63.4608611799), (-20.501261964, 59.1640980566), (-22.4180052294, 56.7840781985)],
                knots=[0, 0, 0, 1, 1, 1], degree=2))
        make_face(mode=Mode.SUBTRACT)
        with BuildLine():
            add(Edge.make_bspline(
                [(-5.5084095965, 54.6687878221), (-6.7556927306, 54.4040583405), (-8.5222529247, 54.4040583405)],
                knots=[0, 0, 0, 1, 1, 1], degree=2))
            add(Edge.make_bspline(
                [(-8.5222529247, 54.4040583405), (-12.3862851648, 54.4040583405), (-14.6237583789, 56.7611689165)],
                knots=[0, 0, 0, 1, 1, 1], degree=2))
            add(Edge.make_bspline(
                [(-14.6237583789, 56.7611689165), (-16.861231593, 59.1182794924), (-16.861231593, 63.2979507297)],
                knots=[0, 0, 0, 1, 1, 1], degree=2))
            add(Edge.make_bspline(
                [(-16.861231593, 63.2979507297), (-16.861231593, 67.5183495795), (-14.7841233533, 70.0001884689)],
                knots=[0, 0, 0, 1, 1, 1], degree=2))
            add(Edge.make_bspline(
                [(-14.7841233533, 70.0001884689), (-12.7070151135, 72.4820273583), (-9.2044404348, 72.4820273583)],
                knots=[0, 0, 0, 1, 1, 1], degree=2))
            add(Edge.make_bspline(
                [(-9.2044404348, 72.4820273583), (-5.9309585766, 72.4820273583), (-4.0218517387, 70.3260093692)],
                knots=[0, 0, 0, 1, 1, 1], degree=2))
            add(Edge.make_bspline(
                [(-4.0218517387, 70.3260093692), (-2.1127449007, 68.1699913802), (-2.1127449007, 64.6368709921)],
                knots=[0, 0, 0, 1, 1, 1], degree=2))
            Line((-2.1127449007, 64.6368709921), (-2.1127449007, 62.9670388778))
            Line((-2.1127449007, 62.9670388778), (-14.1222996494, 62.9670388778))
            add(Edge.make_bspline(
                [(-14.1222996494, 62.9670388778), (-14.0408444243, 59.8971950823), (-12.5695594212, 58.3062727174)],
                knots=[0, 0, 0, 1, 1, 1], degree=2))
            add(Edge.make_bspline(
                [(-12.5695594212, 58.3062727174), (-11.0982744181, 56.7153503524), (-8.4255248449, 56.7153503524)],
                knots=[0, 0, 0, 1, 1, 1], degree=2))
            add(Edge.make_bspline(
                [(-8.4255248449, 56.7153503524), (-5.6102286279, 56.7153503524), (-2.8611147812, 57.8913601646)],
                knots=[0, 0, 0, 1, 1, 1], degree=2))
            Line((-2.8611147812, 57.8913601646), (-2.8611147812, 55.5342495886))
            add(Edge.make_bspline(
                [(-2.8611147812, 55.5342495886), (-4.2611264624, 54.9335173036), (-5.5084095965, 54.6687878221)],
                knots=[0, 0, 0, 1, 1, 1], degree=2))
        make_face(mode=Mode.SUBTRACT)
    extrude(amount=F1_DEPTH)


solid = f1.part
